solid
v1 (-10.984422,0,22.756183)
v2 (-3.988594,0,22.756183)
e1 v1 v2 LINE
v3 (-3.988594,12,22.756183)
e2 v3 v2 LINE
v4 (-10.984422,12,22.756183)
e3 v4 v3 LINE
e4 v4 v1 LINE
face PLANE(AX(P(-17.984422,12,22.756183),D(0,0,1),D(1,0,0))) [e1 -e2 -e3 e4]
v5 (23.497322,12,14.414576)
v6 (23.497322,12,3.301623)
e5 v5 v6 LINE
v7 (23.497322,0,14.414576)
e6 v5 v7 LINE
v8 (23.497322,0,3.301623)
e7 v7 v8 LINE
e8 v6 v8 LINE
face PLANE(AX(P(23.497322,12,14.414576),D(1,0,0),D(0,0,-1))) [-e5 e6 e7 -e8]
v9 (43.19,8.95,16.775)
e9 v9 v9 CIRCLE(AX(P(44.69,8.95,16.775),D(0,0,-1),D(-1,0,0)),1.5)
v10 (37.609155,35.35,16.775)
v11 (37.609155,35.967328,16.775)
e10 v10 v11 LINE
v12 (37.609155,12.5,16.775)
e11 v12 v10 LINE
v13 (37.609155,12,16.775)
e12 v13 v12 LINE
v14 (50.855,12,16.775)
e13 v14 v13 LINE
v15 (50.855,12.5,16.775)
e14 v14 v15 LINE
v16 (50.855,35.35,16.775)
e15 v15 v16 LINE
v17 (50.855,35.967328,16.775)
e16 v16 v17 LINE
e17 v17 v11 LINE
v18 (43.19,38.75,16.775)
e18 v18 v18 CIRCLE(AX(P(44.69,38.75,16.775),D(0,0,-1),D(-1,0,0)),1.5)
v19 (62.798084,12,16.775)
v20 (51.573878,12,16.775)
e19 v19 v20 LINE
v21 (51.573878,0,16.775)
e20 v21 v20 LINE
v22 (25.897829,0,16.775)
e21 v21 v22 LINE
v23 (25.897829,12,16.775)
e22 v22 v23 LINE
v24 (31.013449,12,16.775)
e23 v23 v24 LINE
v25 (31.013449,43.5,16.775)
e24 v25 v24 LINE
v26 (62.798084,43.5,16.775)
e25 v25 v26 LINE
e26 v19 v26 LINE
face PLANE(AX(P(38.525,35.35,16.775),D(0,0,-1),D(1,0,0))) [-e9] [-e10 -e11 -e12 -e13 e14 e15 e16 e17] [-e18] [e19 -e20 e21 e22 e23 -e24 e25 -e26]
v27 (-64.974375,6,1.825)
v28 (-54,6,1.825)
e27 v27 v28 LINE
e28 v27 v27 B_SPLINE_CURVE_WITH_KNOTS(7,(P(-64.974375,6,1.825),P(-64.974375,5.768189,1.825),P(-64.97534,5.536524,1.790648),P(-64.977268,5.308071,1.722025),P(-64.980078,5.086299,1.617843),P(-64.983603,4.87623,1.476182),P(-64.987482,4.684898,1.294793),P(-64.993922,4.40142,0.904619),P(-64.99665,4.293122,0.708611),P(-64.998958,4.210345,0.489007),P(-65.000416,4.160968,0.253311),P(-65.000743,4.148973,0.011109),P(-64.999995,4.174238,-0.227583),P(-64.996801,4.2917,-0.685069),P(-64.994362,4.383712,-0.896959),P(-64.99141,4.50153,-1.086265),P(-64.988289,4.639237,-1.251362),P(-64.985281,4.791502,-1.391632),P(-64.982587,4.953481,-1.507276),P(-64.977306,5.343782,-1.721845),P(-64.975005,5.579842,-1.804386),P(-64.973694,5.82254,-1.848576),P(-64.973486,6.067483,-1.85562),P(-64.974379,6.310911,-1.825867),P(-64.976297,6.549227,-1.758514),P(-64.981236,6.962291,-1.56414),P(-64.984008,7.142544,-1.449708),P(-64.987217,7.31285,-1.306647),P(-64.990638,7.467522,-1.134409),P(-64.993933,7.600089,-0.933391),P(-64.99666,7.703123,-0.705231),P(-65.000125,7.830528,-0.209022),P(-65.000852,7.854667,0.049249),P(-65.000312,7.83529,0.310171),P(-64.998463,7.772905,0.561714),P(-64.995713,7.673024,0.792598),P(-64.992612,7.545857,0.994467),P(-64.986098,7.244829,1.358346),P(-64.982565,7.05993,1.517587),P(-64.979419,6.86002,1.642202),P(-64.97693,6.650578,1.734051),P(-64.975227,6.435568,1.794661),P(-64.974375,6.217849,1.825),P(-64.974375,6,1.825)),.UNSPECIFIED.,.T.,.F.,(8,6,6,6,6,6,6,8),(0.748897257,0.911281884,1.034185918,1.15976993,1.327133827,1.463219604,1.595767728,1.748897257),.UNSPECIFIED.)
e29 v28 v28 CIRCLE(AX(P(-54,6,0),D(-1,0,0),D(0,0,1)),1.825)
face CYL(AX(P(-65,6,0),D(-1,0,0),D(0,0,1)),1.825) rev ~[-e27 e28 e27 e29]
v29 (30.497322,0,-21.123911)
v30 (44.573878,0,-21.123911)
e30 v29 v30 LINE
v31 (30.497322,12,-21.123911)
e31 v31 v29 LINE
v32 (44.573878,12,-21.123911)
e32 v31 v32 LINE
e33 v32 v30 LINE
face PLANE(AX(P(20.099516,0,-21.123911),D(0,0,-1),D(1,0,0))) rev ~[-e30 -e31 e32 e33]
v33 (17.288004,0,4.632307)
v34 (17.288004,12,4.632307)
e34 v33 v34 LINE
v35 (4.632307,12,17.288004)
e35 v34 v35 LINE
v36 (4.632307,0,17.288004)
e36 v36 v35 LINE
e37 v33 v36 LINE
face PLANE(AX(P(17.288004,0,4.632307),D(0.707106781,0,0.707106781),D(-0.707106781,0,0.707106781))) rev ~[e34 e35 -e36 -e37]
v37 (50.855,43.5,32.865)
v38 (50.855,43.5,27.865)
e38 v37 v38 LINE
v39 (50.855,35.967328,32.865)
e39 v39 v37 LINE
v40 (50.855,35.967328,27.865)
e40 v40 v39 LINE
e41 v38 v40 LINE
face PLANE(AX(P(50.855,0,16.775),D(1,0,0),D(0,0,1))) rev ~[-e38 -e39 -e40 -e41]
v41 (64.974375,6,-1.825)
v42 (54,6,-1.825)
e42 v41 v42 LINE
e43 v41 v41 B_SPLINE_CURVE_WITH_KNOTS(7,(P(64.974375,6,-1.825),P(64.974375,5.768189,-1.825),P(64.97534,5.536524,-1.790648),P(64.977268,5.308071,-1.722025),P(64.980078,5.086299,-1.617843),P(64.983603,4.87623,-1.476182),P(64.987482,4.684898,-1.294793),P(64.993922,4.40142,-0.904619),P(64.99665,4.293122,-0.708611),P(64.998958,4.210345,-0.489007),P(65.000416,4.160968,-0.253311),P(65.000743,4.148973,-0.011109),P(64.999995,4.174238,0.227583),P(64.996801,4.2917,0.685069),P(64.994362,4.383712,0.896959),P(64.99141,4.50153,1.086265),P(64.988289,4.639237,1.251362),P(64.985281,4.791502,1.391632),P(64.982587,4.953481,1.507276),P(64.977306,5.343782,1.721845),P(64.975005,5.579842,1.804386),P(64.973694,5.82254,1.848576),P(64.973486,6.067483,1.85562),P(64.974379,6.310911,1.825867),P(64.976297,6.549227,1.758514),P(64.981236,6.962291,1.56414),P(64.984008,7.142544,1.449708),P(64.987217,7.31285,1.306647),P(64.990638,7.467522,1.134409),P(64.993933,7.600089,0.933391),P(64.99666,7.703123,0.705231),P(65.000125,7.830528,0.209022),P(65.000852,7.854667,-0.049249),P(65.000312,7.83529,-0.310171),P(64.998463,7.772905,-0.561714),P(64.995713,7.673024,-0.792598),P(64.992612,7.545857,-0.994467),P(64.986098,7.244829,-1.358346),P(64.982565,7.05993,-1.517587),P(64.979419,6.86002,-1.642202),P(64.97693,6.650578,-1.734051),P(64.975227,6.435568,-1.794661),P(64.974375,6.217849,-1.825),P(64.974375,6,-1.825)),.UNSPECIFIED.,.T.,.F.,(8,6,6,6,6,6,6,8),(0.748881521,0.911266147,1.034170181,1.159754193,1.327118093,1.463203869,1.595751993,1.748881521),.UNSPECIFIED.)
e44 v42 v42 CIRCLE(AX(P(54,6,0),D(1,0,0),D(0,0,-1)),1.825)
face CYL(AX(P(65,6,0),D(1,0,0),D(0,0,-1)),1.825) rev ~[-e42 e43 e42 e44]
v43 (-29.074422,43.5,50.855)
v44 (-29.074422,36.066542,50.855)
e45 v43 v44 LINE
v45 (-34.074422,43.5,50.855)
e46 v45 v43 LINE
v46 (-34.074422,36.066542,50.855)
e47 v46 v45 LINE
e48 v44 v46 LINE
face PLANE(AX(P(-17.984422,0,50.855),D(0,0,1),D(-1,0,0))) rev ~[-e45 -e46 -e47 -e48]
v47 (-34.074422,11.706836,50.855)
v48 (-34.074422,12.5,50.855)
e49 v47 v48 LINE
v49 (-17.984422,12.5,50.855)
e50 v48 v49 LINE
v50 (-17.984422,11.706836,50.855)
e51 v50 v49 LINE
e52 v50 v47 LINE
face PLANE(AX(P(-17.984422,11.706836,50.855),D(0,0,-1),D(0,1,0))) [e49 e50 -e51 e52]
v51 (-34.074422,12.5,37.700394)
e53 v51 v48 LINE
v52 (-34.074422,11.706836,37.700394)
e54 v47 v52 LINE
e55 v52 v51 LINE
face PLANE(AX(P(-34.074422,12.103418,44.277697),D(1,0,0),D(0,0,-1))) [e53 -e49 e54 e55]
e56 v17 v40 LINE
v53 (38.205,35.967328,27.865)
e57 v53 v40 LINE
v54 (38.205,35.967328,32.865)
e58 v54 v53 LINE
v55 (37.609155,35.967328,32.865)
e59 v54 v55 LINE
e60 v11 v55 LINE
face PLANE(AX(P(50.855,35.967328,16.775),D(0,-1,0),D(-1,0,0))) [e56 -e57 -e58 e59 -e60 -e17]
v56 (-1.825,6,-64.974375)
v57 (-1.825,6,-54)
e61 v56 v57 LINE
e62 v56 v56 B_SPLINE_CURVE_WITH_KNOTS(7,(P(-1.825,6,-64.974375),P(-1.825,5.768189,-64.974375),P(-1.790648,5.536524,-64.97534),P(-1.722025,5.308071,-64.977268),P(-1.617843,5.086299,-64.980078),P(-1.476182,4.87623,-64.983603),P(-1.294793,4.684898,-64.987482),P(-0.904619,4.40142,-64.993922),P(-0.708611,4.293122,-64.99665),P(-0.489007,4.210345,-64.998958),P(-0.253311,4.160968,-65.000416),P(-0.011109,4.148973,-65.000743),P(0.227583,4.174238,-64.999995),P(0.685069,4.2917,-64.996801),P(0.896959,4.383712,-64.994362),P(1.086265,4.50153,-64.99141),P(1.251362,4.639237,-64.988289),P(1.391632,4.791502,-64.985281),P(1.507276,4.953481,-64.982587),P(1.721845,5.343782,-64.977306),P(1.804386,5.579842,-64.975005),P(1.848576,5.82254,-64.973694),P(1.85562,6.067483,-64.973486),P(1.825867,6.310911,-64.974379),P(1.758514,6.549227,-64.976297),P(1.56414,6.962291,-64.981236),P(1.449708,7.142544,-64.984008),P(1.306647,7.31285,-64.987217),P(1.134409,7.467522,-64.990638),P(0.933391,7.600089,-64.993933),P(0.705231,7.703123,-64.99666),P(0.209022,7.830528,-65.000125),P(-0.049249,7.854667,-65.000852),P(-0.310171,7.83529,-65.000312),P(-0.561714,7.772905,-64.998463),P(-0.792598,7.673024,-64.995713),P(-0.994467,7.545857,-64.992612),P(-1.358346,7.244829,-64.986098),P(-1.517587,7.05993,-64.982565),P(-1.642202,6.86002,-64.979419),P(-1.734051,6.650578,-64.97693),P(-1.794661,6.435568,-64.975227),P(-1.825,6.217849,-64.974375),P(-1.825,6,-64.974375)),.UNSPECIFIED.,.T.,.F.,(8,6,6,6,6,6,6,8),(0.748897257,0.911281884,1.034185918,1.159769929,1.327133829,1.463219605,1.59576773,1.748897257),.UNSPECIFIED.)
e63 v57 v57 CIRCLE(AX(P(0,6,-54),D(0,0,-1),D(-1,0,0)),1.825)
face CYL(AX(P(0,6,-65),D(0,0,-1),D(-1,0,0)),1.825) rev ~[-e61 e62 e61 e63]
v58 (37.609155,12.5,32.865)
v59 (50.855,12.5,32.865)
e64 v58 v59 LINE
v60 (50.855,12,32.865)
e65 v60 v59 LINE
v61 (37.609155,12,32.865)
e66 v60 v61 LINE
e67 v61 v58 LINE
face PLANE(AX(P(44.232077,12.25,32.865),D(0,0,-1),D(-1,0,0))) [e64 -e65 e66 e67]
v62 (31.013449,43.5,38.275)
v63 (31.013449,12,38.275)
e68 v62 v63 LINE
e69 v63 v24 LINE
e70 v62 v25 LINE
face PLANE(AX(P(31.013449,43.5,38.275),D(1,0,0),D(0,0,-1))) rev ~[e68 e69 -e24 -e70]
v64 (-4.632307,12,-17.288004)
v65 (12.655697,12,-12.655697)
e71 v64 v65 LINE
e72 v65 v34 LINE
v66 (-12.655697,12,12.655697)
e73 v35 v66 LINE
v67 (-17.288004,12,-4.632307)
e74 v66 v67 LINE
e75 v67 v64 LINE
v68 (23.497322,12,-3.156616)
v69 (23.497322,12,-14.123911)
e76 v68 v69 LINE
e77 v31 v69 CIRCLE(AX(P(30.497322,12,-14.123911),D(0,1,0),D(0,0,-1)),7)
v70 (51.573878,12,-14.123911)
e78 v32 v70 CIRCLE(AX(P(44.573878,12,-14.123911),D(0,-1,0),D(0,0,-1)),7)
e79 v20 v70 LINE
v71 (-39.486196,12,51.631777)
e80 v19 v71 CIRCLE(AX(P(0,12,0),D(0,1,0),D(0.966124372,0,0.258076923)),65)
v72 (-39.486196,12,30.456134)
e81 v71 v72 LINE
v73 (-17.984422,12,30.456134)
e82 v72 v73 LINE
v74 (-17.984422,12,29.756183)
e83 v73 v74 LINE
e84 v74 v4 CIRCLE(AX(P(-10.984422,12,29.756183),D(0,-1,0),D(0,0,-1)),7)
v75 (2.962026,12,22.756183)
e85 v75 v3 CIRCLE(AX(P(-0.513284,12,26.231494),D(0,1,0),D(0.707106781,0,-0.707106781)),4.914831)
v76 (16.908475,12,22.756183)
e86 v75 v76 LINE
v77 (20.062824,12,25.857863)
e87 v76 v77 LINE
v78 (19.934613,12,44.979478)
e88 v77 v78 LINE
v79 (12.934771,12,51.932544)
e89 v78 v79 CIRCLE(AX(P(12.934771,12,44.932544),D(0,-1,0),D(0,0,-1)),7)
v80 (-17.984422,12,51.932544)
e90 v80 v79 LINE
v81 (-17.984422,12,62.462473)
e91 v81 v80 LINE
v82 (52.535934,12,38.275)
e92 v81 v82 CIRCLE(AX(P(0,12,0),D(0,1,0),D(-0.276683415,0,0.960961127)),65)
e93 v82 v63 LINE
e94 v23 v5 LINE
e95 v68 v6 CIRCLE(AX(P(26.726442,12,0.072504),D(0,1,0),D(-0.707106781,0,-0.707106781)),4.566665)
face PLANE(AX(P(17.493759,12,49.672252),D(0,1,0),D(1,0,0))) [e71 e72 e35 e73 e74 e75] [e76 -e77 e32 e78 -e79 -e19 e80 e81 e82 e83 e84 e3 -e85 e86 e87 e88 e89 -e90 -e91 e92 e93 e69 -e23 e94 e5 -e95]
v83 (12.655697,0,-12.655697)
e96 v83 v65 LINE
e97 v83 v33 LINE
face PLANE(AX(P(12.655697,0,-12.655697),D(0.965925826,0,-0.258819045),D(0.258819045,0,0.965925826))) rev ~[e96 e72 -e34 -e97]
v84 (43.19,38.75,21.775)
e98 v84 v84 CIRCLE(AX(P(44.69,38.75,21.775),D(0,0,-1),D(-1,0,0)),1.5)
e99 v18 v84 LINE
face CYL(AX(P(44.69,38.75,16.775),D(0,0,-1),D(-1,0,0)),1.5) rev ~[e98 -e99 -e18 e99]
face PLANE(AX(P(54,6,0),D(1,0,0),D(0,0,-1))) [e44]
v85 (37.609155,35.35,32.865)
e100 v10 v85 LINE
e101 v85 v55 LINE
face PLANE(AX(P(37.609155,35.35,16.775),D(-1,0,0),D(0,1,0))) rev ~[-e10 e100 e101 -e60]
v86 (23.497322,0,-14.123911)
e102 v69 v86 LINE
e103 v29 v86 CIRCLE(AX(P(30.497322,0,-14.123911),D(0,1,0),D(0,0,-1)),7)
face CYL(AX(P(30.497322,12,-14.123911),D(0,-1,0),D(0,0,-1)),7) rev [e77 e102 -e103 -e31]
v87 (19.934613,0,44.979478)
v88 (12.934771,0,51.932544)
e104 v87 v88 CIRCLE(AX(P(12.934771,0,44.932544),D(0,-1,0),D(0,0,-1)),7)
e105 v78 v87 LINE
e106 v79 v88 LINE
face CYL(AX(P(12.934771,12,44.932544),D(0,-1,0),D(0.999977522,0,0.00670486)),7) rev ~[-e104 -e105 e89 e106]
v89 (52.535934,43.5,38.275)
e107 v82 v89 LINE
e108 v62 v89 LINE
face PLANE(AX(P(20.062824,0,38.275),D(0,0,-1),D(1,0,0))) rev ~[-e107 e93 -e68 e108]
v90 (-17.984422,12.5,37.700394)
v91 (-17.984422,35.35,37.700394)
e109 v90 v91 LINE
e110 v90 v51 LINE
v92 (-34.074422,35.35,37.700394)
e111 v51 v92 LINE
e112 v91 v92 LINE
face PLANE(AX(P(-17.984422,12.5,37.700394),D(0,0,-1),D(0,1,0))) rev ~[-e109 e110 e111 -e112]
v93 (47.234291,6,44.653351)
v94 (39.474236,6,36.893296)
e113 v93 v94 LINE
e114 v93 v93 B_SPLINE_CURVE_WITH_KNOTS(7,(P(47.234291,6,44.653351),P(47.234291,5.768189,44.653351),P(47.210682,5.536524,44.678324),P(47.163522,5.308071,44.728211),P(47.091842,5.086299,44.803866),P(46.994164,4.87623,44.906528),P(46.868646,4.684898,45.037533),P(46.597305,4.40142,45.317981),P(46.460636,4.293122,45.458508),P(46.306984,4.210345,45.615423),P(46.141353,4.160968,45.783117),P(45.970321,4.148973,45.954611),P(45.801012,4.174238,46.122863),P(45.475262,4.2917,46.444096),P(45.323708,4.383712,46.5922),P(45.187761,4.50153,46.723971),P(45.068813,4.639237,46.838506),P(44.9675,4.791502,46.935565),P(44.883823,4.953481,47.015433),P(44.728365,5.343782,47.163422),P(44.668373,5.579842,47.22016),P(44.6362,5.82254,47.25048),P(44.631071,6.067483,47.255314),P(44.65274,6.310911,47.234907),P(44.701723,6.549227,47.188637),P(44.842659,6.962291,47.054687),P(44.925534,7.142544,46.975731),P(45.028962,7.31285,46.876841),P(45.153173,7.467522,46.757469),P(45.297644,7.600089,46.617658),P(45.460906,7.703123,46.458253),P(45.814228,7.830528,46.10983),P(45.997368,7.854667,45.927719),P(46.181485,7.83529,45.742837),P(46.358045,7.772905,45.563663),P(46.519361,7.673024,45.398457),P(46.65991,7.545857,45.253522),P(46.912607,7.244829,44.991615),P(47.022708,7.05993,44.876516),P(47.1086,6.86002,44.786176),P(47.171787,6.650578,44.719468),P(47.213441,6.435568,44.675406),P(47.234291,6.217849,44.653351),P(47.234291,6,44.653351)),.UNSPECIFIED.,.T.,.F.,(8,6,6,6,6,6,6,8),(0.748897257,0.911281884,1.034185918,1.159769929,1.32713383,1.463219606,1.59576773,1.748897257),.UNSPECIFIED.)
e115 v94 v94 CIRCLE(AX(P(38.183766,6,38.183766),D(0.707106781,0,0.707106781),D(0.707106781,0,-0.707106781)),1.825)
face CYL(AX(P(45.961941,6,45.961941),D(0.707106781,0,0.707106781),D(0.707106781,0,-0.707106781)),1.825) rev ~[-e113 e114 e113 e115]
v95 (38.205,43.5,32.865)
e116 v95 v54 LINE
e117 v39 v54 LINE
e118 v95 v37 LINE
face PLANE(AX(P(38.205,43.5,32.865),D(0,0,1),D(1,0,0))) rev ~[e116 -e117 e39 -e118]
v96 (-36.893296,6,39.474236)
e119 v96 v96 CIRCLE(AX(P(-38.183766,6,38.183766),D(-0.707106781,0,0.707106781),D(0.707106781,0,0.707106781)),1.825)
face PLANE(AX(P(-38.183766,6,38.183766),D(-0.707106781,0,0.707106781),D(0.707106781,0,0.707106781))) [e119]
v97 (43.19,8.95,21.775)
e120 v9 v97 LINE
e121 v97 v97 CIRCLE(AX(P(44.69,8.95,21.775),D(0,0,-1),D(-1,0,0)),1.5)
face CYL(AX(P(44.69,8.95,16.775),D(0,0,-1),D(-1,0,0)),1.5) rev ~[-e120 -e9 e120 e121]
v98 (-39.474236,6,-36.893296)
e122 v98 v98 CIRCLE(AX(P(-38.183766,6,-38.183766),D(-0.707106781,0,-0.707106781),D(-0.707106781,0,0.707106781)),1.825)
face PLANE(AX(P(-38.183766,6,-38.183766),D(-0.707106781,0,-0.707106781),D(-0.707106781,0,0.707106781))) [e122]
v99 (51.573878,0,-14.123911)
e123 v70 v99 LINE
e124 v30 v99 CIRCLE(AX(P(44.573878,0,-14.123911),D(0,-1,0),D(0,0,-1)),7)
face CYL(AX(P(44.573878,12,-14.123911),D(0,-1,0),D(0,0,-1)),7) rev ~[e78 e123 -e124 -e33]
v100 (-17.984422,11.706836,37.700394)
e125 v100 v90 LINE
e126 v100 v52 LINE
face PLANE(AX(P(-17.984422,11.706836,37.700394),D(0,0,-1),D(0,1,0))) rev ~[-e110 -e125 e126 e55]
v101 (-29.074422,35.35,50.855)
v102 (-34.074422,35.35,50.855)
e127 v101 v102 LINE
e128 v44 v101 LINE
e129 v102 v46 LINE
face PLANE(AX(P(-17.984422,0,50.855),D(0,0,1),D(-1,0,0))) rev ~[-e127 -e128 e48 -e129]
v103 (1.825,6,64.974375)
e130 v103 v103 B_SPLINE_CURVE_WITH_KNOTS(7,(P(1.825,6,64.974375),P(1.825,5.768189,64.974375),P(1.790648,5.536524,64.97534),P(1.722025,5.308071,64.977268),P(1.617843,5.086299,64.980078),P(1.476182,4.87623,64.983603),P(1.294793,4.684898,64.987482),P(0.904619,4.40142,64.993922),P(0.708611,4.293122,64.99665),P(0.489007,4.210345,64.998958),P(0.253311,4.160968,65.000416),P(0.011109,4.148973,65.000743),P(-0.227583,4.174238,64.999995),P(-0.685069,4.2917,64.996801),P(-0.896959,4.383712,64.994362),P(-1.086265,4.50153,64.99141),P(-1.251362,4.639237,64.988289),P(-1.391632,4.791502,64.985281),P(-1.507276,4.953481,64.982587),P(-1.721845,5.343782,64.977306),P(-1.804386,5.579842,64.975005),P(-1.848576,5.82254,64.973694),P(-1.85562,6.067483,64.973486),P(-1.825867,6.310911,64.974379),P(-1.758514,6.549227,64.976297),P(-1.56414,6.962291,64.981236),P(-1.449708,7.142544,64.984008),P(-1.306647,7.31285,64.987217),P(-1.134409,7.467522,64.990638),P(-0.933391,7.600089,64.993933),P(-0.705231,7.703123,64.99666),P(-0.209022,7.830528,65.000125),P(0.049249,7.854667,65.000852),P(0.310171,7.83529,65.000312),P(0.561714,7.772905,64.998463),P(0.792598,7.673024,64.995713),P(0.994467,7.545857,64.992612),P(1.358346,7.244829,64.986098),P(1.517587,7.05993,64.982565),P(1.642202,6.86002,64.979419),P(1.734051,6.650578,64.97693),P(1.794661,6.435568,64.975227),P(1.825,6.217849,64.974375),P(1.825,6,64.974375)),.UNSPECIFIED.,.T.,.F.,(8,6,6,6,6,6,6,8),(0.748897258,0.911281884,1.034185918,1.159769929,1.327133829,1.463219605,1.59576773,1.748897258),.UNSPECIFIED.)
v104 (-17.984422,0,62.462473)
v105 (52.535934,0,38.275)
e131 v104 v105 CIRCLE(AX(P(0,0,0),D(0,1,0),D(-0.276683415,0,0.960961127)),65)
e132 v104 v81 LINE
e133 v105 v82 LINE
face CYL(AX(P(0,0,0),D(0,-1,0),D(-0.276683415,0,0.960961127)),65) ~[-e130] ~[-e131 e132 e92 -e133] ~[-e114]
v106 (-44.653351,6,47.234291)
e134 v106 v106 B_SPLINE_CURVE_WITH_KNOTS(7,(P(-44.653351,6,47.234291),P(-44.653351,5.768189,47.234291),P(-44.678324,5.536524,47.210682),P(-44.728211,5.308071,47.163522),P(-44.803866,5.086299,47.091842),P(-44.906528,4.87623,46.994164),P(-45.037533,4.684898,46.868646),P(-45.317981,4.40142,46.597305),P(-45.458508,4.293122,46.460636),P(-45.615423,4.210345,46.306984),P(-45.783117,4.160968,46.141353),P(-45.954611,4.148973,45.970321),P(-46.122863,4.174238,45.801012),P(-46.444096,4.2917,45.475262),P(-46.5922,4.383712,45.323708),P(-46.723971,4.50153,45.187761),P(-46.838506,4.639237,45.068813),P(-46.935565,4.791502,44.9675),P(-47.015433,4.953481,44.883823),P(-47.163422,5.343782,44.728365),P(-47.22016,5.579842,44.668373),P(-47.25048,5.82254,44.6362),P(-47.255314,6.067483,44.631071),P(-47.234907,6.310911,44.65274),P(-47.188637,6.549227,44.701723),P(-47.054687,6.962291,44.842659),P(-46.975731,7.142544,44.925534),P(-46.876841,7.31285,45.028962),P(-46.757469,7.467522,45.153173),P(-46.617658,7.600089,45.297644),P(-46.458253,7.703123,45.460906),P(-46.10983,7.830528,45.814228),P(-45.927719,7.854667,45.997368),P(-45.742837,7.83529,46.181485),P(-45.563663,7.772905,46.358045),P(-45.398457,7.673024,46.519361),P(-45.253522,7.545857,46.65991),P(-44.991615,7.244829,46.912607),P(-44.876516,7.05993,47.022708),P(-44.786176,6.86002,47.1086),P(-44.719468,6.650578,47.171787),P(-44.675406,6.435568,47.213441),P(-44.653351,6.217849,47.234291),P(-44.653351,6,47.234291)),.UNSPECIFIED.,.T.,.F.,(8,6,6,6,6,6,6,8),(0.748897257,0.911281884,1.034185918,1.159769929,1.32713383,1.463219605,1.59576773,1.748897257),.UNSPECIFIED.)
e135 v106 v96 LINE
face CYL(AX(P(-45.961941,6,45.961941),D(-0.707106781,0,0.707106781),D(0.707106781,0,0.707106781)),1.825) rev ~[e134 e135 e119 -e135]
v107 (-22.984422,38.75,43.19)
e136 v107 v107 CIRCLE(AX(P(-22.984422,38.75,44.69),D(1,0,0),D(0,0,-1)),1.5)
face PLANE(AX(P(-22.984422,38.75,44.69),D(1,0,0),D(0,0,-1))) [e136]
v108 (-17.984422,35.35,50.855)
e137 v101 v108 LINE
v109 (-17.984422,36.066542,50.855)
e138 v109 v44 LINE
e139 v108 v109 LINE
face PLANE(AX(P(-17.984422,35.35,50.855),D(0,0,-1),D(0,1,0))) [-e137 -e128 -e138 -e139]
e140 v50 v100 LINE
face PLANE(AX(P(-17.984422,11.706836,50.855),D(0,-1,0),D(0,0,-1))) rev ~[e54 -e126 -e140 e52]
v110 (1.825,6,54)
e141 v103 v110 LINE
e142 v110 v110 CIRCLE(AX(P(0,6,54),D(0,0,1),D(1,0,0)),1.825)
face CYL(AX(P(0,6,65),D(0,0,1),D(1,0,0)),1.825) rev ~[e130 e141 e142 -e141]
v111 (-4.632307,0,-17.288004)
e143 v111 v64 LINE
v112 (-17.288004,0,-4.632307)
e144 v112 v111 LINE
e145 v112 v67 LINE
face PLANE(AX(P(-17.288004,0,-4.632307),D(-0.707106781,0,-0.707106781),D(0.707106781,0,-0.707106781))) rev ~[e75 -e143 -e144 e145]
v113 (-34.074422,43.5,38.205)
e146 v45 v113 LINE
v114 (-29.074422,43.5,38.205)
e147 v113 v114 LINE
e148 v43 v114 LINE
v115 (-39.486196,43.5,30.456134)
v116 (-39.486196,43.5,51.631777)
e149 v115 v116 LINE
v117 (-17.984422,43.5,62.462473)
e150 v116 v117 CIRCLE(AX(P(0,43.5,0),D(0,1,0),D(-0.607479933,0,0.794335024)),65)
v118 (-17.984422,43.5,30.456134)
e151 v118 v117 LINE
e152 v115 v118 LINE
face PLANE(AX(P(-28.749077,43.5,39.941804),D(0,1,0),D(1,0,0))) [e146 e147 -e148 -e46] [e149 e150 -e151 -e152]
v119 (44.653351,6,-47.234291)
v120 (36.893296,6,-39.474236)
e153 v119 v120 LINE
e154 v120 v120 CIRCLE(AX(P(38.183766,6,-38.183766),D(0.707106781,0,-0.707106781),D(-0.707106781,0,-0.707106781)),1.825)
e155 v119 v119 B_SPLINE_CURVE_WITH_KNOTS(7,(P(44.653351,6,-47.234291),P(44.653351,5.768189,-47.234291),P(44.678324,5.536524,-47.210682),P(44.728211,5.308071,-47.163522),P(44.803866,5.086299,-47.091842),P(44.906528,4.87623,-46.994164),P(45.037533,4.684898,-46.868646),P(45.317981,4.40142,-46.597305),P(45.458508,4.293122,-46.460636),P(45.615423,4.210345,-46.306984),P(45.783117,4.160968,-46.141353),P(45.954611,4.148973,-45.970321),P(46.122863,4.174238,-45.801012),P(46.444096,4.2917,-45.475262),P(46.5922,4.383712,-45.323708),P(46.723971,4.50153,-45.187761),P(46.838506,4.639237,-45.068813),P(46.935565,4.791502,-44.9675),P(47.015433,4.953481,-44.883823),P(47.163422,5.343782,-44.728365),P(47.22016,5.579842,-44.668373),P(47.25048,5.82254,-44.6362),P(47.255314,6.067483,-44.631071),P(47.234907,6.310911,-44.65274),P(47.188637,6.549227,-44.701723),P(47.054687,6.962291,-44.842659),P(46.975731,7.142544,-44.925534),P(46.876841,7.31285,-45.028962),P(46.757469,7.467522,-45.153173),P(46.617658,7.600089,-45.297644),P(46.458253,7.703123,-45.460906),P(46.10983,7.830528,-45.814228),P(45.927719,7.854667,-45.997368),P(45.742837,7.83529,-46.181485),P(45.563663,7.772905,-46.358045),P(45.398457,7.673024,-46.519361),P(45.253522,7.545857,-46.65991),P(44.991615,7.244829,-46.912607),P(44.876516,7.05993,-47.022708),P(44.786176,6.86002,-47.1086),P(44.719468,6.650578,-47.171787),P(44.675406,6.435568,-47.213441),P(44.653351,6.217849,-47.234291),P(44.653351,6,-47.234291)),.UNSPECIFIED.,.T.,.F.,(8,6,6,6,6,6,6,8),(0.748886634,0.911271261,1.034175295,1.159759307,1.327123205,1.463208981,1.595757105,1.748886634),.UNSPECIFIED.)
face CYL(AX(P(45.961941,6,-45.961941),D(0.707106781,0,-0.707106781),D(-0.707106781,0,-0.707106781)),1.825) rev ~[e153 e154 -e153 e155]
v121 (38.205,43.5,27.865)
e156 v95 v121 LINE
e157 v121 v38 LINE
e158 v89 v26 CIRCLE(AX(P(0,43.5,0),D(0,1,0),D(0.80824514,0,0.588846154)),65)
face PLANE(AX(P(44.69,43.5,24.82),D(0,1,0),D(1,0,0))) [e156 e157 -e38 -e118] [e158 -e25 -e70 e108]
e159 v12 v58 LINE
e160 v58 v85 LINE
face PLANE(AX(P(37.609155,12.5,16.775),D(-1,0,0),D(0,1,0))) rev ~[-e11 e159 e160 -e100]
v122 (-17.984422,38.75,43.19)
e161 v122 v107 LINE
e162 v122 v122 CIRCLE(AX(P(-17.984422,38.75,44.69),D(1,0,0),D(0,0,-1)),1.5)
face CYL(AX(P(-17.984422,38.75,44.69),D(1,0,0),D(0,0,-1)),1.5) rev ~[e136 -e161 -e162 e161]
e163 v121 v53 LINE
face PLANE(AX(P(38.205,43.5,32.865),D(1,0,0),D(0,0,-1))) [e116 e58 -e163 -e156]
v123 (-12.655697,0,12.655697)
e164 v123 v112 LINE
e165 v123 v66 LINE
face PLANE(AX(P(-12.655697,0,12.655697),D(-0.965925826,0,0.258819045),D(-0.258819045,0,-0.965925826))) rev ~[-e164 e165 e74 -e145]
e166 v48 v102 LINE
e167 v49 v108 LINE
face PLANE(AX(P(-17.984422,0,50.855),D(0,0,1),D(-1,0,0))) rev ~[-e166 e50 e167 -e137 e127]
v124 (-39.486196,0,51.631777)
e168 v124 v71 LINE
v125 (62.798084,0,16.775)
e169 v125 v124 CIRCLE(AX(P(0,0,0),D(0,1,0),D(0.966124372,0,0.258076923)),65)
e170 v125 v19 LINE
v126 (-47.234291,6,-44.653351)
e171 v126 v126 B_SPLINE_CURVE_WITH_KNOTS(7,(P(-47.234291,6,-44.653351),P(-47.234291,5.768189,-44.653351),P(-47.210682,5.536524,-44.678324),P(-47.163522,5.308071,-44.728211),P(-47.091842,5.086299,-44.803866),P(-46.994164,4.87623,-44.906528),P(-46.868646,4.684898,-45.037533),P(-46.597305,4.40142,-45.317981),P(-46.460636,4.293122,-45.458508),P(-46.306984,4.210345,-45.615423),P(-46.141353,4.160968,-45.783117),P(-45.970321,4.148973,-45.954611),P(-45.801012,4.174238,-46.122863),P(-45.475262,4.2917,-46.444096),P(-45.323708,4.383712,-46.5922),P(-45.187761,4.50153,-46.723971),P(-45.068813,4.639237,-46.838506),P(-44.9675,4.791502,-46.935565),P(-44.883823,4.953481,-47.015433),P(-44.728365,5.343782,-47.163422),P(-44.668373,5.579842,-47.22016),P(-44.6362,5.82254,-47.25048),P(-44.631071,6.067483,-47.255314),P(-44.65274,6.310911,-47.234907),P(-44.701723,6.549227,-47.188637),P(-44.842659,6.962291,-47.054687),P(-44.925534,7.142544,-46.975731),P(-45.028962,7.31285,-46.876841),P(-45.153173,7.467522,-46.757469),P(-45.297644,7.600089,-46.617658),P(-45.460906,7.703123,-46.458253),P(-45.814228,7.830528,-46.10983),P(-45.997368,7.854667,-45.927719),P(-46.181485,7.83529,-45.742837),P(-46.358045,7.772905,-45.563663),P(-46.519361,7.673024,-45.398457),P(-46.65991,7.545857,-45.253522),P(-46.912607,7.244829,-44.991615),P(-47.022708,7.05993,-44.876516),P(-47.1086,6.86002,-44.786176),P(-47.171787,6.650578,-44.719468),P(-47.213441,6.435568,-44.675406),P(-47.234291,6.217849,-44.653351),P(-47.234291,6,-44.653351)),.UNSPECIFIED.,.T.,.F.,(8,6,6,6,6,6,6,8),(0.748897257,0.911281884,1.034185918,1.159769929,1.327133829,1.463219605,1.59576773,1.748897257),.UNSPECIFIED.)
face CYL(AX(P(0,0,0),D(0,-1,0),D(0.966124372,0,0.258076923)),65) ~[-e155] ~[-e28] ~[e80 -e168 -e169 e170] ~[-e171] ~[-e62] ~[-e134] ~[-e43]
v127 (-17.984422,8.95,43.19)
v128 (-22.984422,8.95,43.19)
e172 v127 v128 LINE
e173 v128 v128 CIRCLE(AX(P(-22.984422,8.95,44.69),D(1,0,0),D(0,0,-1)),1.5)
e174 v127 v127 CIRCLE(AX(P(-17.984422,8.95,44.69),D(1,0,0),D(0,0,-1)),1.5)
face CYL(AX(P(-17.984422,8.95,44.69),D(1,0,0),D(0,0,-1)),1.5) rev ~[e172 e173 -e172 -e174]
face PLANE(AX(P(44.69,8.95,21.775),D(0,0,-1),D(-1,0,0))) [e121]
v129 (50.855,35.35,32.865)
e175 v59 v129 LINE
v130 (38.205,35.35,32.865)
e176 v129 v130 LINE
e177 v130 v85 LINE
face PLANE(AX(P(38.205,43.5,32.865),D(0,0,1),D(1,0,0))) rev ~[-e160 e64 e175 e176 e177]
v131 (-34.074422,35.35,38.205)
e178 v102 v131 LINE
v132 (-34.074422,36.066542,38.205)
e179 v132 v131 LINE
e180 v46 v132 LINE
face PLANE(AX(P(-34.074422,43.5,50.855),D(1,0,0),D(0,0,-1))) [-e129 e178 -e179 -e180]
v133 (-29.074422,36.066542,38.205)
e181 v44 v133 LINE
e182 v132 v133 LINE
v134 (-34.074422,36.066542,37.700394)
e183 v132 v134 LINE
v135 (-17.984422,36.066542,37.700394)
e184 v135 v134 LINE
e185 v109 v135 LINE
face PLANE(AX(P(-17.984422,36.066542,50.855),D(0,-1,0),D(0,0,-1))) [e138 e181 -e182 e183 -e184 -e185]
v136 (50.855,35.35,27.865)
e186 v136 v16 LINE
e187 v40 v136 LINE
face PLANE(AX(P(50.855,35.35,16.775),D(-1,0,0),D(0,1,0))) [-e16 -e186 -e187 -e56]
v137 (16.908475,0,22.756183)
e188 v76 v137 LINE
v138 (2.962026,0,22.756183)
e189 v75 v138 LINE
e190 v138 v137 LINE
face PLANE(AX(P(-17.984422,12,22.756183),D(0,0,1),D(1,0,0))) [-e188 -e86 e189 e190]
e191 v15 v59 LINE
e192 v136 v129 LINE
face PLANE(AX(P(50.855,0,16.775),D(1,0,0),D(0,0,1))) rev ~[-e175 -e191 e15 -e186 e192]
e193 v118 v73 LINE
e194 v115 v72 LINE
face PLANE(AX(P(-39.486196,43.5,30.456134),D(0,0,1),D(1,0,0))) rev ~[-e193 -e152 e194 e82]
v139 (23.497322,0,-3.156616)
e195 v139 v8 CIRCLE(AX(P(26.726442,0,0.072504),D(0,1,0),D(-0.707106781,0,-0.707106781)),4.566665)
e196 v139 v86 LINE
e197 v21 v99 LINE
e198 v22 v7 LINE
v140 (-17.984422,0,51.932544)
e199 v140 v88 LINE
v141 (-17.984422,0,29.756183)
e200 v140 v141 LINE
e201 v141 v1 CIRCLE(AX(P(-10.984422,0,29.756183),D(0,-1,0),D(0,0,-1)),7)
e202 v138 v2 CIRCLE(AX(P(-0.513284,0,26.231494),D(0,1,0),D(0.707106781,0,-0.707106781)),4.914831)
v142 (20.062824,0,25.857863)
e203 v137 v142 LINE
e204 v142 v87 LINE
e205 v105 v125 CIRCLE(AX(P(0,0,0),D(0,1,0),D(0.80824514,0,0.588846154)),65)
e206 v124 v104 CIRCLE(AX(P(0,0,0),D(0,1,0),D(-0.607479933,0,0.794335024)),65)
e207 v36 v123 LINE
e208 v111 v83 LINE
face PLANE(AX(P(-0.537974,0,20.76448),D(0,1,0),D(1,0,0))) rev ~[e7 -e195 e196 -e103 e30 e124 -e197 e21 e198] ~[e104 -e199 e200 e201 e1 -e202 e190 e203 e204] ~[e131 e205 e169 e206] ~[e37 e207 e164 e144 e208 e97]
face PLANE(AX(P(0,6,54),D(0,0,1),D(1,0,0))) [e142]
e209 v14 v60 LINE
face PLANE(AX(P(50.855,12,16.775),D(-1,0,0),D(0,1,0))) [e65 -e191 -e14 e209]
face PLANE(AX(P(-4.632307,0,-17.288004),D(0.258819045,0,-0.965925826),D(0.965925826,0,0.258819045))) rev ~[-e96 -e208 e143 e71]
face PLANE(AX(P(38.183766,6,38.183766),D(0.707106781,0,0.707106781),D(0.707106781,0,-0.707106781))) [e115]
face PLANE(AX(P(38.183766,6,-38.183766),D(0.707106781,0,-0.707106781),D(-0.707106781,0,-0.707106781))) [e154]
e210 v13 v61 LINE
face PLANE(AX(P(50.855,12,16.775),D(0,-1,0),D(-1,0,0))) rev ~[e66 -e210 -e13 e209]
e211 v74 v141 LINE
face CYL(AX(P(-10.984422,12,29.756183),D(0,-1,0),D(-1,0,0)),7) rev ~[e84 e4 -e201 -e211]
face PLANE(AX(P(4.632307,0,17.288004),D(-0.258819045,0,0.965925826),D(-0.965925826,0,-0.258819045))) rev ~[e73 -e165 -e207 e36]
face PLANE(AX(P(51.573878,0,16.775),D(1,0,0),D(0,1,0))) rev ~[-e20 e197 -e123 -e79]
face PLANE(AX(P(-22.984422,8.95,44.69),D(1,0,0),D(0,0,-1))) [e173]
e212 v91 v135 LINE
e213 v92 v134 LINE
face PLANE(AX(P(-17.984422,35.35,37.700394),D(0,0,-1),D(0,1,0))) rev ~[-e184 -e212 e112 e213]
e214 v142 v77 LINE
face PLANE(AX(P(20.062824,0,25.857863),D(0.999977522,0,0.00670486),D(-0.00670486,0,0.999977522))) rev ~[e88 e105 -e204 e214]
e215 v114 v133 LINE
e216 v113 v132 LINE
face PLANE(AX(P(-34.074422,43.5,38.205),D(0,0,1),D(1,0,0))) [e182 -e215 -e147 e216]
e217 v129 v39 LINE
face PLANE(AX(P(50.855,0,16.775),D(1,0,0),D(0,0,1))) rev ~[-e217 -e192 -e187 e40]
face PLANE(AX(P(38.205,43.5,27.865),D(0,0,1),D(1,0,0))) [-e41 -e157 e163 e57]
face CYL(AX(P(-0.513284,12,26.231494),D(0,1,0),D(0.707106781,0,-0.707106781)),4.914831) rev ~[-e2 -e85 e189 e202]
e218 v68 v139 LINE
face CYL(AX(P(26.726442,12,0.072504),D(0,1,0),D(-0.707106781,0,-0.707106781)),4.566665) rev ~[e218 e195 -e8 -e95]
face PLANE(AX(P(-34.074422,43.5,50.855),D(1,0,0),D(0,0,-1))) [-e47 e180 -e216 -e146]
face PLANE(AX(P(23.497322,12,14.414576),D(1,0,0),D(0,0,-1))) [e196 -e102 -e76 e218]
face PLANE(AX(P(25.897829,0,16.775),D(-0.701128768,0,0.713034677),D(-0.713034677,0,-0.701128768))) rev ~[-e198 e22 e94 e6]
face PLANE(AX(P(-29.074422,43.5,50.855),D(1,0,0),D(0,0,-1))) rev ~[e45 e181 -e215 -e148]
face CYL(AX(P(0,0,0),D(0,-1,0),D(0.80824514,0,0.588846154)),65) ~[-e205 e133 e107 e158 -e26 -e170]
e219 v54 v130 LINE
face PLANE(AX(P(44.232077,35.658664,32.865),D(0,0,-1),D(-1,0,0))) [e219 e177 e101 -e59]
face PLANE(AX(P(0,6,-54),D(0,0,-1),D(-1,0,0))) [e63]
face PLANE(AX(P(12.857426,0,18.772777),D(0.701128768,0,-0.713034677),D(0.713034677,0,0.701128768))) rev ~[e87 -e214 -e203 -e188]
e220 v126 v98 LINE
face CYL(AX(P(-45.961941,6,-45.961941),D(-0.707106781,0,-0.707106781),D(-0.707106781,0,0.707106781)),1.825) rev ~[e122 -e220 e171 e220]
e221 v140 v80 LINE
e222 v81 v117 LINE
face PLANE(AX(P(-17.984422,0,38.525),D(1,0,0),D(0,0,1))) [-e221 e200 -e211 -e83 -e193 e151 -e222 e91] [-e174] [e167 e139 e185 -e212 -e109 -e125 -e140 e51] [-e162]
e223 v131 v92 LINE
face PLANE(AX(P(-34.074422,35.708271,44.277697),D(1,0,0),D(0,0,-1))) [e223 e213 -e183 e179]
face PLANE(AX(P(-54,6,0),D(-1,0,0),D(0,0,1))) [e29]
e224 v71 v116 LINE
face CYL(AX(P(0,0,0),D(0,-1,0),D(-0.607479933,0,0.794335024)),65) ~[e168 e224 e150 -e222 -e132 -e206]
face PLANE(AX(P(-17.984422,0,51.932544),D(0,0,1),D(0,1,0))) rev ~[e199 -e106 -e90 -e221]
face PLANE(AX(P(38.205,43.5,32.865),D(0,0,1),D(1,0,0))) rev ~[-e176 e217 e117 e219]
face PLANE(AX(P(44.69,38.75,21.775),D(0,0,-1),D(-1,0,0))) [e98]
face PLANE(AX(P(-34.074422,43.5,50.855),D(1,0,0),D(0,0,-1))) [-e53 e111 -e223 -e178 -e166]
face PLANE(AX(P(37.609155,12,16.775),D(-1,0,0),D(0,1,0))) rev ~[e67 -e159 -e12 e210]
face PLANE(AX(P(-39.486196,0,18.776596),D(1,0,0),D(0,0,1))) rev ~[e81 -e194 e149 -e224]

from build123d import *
from build123d.topology import SkipClean

# Parameters (mm, degrees)
BOSS_EXTRUDE1_DEPTH   = 12
BOSS_EXTRUDE1_2_DEPTH = 12
BOSS_EXTRUDE2_DEPTH   = 43.5
SKETCH9_W             = 16.09
SKETCH9_H             = 12.33
BOSS_EXTRUDE3_DEPTH   = 12.5
SKETCH10_W            = 12.33
SKETCH10_H            = 16.09
BOSS_EXTRUDE4_DEPTH   = 12.5
BOSS_EXTRUDE5_START   = 22.85
SKETCH11_W            = 12.33
SKETCH11_H            = 16.09
SKETCH11_W_2          = 16.09
SKETCH11_H_2          = 12.33
BOSS_EXTRUDE5_DEPTH   = 8.15
SKETCH21_W            = 34.892896775
SKETCH21_H            = 3.983406167
SKETCH21_W_2          = 3.397806166
SKETCH21_H_2          = 35.53848689
BOSS_EXTRUDE8_DEPTH   = 12
SKETCH13_W            = 0.82460559
SKETCH13_H            = 22.85
CUT_EXTRUDE1_DEPTH    = 16.09
SKETCH14_W            = 0.915845165
SKETCH14_H            = 22.85
CUT_EXTRUDE2_DEPTH    = 16.09
SKETCH15_W            = 2.3
SKETCH15_H            = 12
BOSS_EXTRUDE6_DEPTH   = 39.09
SKETCH16_W            = 3.5
SKETCH16_H            = 12
BOSS_EXTRUDE7_DEPTH   = 39.09
SKETCH17_W            = 10.950625106
SKETCH17_H            = 21.5
SKETCH17_W_2          = 21.501773634
SKETCH17_H_2          = 11.67953826
CUT_EXTRUDE3_DEPTH    = 31.5
CUT_EXTRUDE4_START    = 65
SKETCH18_R            = 1.825
CUT_EXTRUDE4_DEPTH    = 11
CIRPATTERN1_COUNT     = 8
SKETCH19_R            = 1.5
CUT_EXTRUDE5_DEPTH    = 5
SKETCH20_R            = 1.5
CUT_EXTRUDE8_DEPTH    = 5
SKETCH22_W            = 5
SKETCH22_H            = 12.65
SKETCH22_W_2          = 12.65
SKETCH22_H_2          = 5
CUT_EXTRUDE9_DEPTH    = 12
FILLET1_R             = 7
CUT_EXTRUDE10_DEPTH   = 12
CUT_EXTRUDE11_DEPTH   = 12
SKETCH25_W            = 13.245845165
SKETCH25_H            = 0.617327952
SKETCH25_H_2          = 0.5
CUT_EXTRUDE12_DEPTH   = 16.09
SKETCH26_W            = 13.15460559
SKETCH26_H            = 0.716542238
SKETCH26_H_2          = 0.793164057
CUT_EXTRUDE13_DEPTH   = 16.09


with BuildPart() as part:
    # Sketch8 → Boss-Extrude1 (new body)
    with BuildSketch(Plane(origin=(0, 0, 0), x_dir=(1, 0, 0), z_dir=(0, 1, 0))):
        with BuildLine():
            Line((-39.48619564, -18.776596206), (-17.984422006, -18.776596206))
            Line((-17.984422006, -18.776596206), (-17.984422006, -18.772777241))
            Line((-17.984422006, -18.772777241), (12.857426144, -18.772777241))
            Line((12.857426144, -18.772777241), (20.062824101, -25.857862934))
            Line((20.062824101, -25.857862934), (20.062824101, -16.775))
            Line((20.062824101, -16.775), (25.897828719, -16.775))
            Line((25.897828719, -16.775), (20.099516291, -11.073504999))
            Line((20.099516291, -11.073504999), (20.099516291, 21.123910655))
            Line((20.099516291, 21.123910655), (53.873878262, 21.123910655))
            Line((53.873878262, 21.123910655), (53.873878262, -16.775))
            Line((53.873878262, -16.775), (62.798084167, -16.775))
            ThreePointArc((62.798084167, -16.775), (-20.966872805, 61.525525148), (-39.48619564, -51.63177659))
            Line((-39.48619564, -51.63177659), (-39.48619564, -18.776596206))
        make_face()
        Polygon((12.655697004, 12.655697004), (17.288003611, -4.632306606), (4.632306606, -17.288003611), (-12.655697004, -12.655697004), (-17.288003611, 4.632306606), (-4.632306606, 17.288003611), align=None, mode=Mode.SUBTRACT)
    extrude(amount=BOSS_EXTRUDE1_DEPTH)



with BuildPart() as body_2:
    # Sketch8 → Boss-Extrude1 2 (new body)
    with BuildSketch(Plane(origin=(0, 0, 0), x_dir=(1, 0, 0), z_dir=(0, 1, 0))):
        with BuildLine():
            Line((-17.984422006, -55.432543879), (-17.984422006, -62.462473255))
            ThreePointArc((-17.984422006, -62.462473255), (21.088153384, -61.484061242), (52.535934131, -38.275))
            Line((52.535934131, -38.275), (20.062824101, -38.275))
            Line((20.062824101, -38.275), (20.062824101, -25.857862934))
            Line((20.062824101, -25.857862934), (19.864525542, -55.432543879))
            Line((19.864525542, -55.432543879), (-17.984422006, -55.432543879))
        make_face()
    extrude(amount=BOSS_EXTRUDE1_2_DEPTH)


with BuildPart() as part_1:
    add(part.part)

    add(body_2.part)  # Boss-Extrude2 merges body 2
    # Sketch8<4> → Boss-Extrude2 (add)
    with BuildSketch(Plane(origin=(0, 0, 0), x_dir=(1, 0, 0), z_dir=(0, 1, 0))):
        with BuildLine():
            Line((-34.074422006, -38.525), (-17.984422006, -38.525))
            Line((-17.984422006, -38.525), (-17.984422006, -18.776596206))
            Line((-17.984422006, -18.776596206), (-39.48619564, -18.776596206))
            Line((-39.48619564, -18.776596206), (-39.48619564, -51.63177659))
            ThreePointArc((-39.48619564, -51.63177659), (-29.241134908, -58.051322373), (-17.984422006, -62.462473255))
            Line((-17.984422006, -62.462473255), (-17.984422006, -50.855))
            Line((-17.984422006, -50.855), (-34.074422006, -50.855))
            Line((-34.074422006, -50.855), (-34.074422006, -38.525))
        make_face()
        with BuildLine():
            Line((20.062824101, -16.775), (20.062824101, -38.275))
            Line((20.062824101, -38.275), (52.535934131, -38.275))
            ThreePointArc((52.535934131, -38.275), (58.660433379, -27.999170628), (62.798084167, -16.775))
            Line((62.798084167, -16.775), (50.855, -16.775))
            Line((50.855, -16.775), (50.855, -32.865))
            Line((50.855, -32.865), (38.525, -32.865))
            Line((38.525, -32.865), (38.525, -16.775))
            Line((38.525, -16.775), (20.062824101, -16.775))
        make_face()
    extrude(amount=BOSS_EXTRUDE2_DEPTH)

    # Sketch9 → Boss-Extrude3 (add)
    with BuildSketch(Plane.XZ):
        with Locations((-26.029422006, 44.69)):
            Rectangle(SKETCH9_W, SKETCH9_H)
    extrude(amount=-BOSS_EXTRUDE3_DEPTH)

    # Sketch10 → Boss-Extrude4 (add)
    with BuildSketch(Plane.XZ):
        with Locations((44.69, 24.82)):
            Rectangle(SKETCH10_W, SKETCH10_H)
    extrude(amount=-BOSS_EXTRUDE4_DEPTH)

    # Sketch11 → Boss-Extrude5 (add)
    with BuildSketch(Plane(origin=(0, 12.5, 0), x_dir=(1, 0, 0), z_dir=(0, 1, 0)).offset(BOSS_EXTRUDE5_START)):
        with Locations((44.69, -24.82)):
            Rectangle(SKETCH11_W, SKETCH11_H)
        with Locations((-26.029422006, -44.69)):
            Rectangle(SKETCH11_W_2, SKETCH11_H_2)
    extrude(amount=BOSS_EXTRUDE5_DEPTH)

    # Sketch21 → Boss-Extrude8 (add)
    with BuildSketch(Plane(origin=(0, 12, 0), x_dir=(1, 0, 0), z_dir=(0, 1, 0))):
        with Locations((-0.537973619, -20.764480324)):
            Rectangle(SKETCH21_W, SKETCH21_H)
        with Locations((21.798419374, 3.35466721)):
            Rectangle(SKETCH21_W_2, SKETCH21_H_2)
    extrude(amount=-BOSS_EXTRUDE8_DEPTH)

    # Sketch13 → Cut-Extrude1 (cut)
    with BuildSketch(Plane(origin=(-17.984422006, 0, 0), x_dir=(0, 0, -1), z_dir=(1, 0, 0))):
        with Locations((-38.112697205, 23.925)):
            Rectangle(SKETCH13_W, SKETCH13_H)
    extrude(amount=-CUT_EXTRUDE1_DEPTH, mode=Mode.SUBTRACT)

    # Sketch14 → Cut-Extrude2 (cut)
    with BuildSketch(Plane(origin=(0, 0, 16.775), x_dir=(-1, 0, 0), z_dir=(0, 0, -1))):
        with Locations((-38.067077418, 23.925)):
            Rectangle(SKETCH14_W, SKETCH14_H)
    extrude(amount=-CUT_EXTRUDE2_DEPTH, mode=Mode.SUBTRACT)

    # Sketch15 → Boss-Extrude6 (add)
    with BuildSketch(Plane(origin=(0, 0, 16.775), x_dir=(-1, 0, 0), z_dir=(0, 0, -1))):
        with Locations((-52.723878262, 6)):
            Rectangle(SKETCH15_W, SKETCH15_H)
    extrude(amount=BOSS_EXTRUDE6_DEPTH)

    # Sketch16 → Boss-Extrude7 (add)
    with BuildSketch(Plane(origin=(-17.984422006, 0, 0), x_dir=(0, 0, -1), z_dir=(1, 0, 0))):
        with Locations((-53.682543879, 6)):
            Rectangle(SKETCH16_W, SKETCH16_H)
    extrude(amount=BOSS_EXTRUDE7_DEPTH)

    # Sketch17 → Cut-Extrude3 (cut)
    with BuildSketch(Plane(origin=(0, 43.5, 0), x_dir=(1, 0, 0), z_dir=(0, 1, 0))):
        with Locations((25.538136654, -27.525)):
            Rectangle(SKETCH17_W, SKETCH17_H)
        with Locations((-28.735308823, -24.616365336)):
            Rectangle(SKETCH17_W_2, SKETCH17_H_2)
    extrude(amount=-CUT_EXTRUDE3_DEPTH, mode=Mode.SUBTRACT)

    # Sketch18 → Cut-Extrude4 (cut)
    with SkipClean():  # the faces are left unmerged after this step: merging them gives an invalid solid
        with BuildSketch(Plane.XY.offset(CUT_EXTRUDE4_START)):
            with Locations((0, 6)):
                Circle(SKETCH18_R)
        cut_extrude4 = extrude(amount=-CUT_EXTRUDE4_DEPTH, mode=Mode.SUBTRACT)

    # CirPattern1: Cut-Extrude4 ×8 about axis
    with SkipClean():  # the faces are left unmerged after this step: merging them gives an invalid solid
        cirpattern1_axis = Axis((0, 12, 0), (0, -1, 0))
        for i in range(1, CIRPATTERN1_COUNT):
            add(cut_extrude4.rotate(cirpattern1_axis, i * 360 / CIRPATTERN1_COUNT), mode=Mode.SUBTRACT)

    # Sketch19 → Cut-Extrude5 (cut)
    with SkipClean():  # the faces are left unmerged after this step: merging them gives an invalid solid
        with BuildSketch(Plane(origin=(0, 0, 16.775), x_dir=(-1, 0, 0), z_dir=(0, 0, -1))):
            with Locations((-44.69, 38.75)):
                Circle(SKETCH19_R)
            with Locations((-44.69, 8.95)):
                Circle(SKETCH19_R)
        extrude(amount=-CUT_EXTRUDE5_DEPTH, mode=Mode.SUBTRACT)

    # Sketch20 → Cut-Extrude8 (cut)
    with SkipClean():  # the faces are left unmerged after this step: merging them gives an invalid solid
        with BuildSketch(Plane(origin=(-17.984422006, 0, 0), x_dir=(0, 0, -1), z_dir=(1, 0, 0))):
            with Locations((-44.69, 38.75)):
                Circle(SKETCH20_R)
            with Locations((-44.69, 8.95)):
                Circle(SKETCH20_R)
        extrude(amount=-CUT_EXTRUDE8_DEPTH, mode=Mode.SUBTRACT)

    # Sketch22 → Cut-Extrude9 (cut)
    with SkipClean():  # the faces are left unmerged after this step: merging them gives an invalid solid
        with BuildSketch(Plane(origin=(0, 43.5, 0), x_dir=(1, 0, 0), z_dir=(0, 1, 0))):
            with Locations((-31.574422006, -44.53)):
                Rectangle(SKETCH22_W, SKETCH22_H)
            with Locations((44.53, -30.365)):
                Rectangle(SKETCH22_W_2, SKETCH22_H_2)
        extrude(amount=-CUT_EXTRUDE9_DEPTH, mode=Mode.SUBTRACT)

    # Fillet1
    fillet1_edges = [part_1.edges().sort_by_distance(p)[0] for p in [
        (51.573878262, 6, -21.123910655),
        (19.88799308, 6, 51.932543879),
        (-17.984422006, 6, 22.756183408),
        (23.497322457, 6, -21.123910655),
    ]]
    fillet(fillet1_edges, radius=FILLET1_R)

    # Sketch23 → Cut-Extrude10 (cut)
    with SkipClean():  # the faces are left unmerged after this step: merging them gives an invalid solid
        with BuildSketch(Plane(origin=(0, 12, 0), x_dir=(1, 0, 0), z_dir=(0, 1, 0))):
            with BuildLine():
                Line((-3.988594308, -22.756183408), (2.962026381, -22.756183408))
                ThreePointArc((2.962026381, -22.756183408), (-0.513283963, -21.31666273), (-3.988594308, -22.756183408))
            make_face()
        extrude(amount=-CUT_EXTRUDE10_DEPTH, mode=Mode.SUBTRACT)

    # Sketch24 → Cut-Extrude11 (cut)
    with SkipClean():  # the faces are left unmerged after this step: merging them gives an invalid solid
        with BuildSketch(Plane(origin=(0, 12, 0), x_dir=(1, 0, 0), z_dir=(0, 1, 0))):
            with BuildLine():
                Line((23.497322457, -3.301623153), (23.497322457, 3.156615754))
                ThreePointArc((23.497322457, 3.156615754), (22.159777385, -0.072503699), (23.497322457, -3.301623153))
            make_face()
        extrude(amount=-CUT_EXTRUDE11_DEPTH, mode=Mode.SUBTRACT)

    # Sketch25 → Cut-Extrude12 (cut)
    with SkipClean():  # the faces are left unmerged after this step: merging them gives an invalid solid
        with BuildSketch(Plane(origin=(0, 0, 16.775), x_dir=(-1, 0, 0), z_dir=(0, 0, -1))):
            with Locations((-44.232077418, 35.658663976)):
                Rectangle(SKETCH25_W, SKETCH25_H)
            with Locations((-44.232077418, 12.25)):
                Rectangle(SKETCH25_W, SKETCH25_H_2)
        extrude(amount=-CUT_EXTRUDE12_DEPTH, mode=Mode.SUBTRACT)

    # Sketch26 → Cut-Extrude13 (cut)
    with SkipClean():  # the faces are left unmerged after this step: merging them gives an invalid solid
        with BuildSketch(Plane(origin=(-17.984422006, 0, 0), x_dir=(0, 0, -1), z_dir=(1, 0, 0))):
            with Locations((-44.277697205, 35.708271119)):
                Rectangle(SKETCH26_W, SKETCH26_H)
            with Locations((-44.277697205, 12.103417972)):
                Rectangle(SKETCH26_W, SKETCH26_H_2)
        extrude(amount=-CUT_EXTRUDE13_DEPTH, mode=Mode.SUBTRACT)


solid = part_1.part
